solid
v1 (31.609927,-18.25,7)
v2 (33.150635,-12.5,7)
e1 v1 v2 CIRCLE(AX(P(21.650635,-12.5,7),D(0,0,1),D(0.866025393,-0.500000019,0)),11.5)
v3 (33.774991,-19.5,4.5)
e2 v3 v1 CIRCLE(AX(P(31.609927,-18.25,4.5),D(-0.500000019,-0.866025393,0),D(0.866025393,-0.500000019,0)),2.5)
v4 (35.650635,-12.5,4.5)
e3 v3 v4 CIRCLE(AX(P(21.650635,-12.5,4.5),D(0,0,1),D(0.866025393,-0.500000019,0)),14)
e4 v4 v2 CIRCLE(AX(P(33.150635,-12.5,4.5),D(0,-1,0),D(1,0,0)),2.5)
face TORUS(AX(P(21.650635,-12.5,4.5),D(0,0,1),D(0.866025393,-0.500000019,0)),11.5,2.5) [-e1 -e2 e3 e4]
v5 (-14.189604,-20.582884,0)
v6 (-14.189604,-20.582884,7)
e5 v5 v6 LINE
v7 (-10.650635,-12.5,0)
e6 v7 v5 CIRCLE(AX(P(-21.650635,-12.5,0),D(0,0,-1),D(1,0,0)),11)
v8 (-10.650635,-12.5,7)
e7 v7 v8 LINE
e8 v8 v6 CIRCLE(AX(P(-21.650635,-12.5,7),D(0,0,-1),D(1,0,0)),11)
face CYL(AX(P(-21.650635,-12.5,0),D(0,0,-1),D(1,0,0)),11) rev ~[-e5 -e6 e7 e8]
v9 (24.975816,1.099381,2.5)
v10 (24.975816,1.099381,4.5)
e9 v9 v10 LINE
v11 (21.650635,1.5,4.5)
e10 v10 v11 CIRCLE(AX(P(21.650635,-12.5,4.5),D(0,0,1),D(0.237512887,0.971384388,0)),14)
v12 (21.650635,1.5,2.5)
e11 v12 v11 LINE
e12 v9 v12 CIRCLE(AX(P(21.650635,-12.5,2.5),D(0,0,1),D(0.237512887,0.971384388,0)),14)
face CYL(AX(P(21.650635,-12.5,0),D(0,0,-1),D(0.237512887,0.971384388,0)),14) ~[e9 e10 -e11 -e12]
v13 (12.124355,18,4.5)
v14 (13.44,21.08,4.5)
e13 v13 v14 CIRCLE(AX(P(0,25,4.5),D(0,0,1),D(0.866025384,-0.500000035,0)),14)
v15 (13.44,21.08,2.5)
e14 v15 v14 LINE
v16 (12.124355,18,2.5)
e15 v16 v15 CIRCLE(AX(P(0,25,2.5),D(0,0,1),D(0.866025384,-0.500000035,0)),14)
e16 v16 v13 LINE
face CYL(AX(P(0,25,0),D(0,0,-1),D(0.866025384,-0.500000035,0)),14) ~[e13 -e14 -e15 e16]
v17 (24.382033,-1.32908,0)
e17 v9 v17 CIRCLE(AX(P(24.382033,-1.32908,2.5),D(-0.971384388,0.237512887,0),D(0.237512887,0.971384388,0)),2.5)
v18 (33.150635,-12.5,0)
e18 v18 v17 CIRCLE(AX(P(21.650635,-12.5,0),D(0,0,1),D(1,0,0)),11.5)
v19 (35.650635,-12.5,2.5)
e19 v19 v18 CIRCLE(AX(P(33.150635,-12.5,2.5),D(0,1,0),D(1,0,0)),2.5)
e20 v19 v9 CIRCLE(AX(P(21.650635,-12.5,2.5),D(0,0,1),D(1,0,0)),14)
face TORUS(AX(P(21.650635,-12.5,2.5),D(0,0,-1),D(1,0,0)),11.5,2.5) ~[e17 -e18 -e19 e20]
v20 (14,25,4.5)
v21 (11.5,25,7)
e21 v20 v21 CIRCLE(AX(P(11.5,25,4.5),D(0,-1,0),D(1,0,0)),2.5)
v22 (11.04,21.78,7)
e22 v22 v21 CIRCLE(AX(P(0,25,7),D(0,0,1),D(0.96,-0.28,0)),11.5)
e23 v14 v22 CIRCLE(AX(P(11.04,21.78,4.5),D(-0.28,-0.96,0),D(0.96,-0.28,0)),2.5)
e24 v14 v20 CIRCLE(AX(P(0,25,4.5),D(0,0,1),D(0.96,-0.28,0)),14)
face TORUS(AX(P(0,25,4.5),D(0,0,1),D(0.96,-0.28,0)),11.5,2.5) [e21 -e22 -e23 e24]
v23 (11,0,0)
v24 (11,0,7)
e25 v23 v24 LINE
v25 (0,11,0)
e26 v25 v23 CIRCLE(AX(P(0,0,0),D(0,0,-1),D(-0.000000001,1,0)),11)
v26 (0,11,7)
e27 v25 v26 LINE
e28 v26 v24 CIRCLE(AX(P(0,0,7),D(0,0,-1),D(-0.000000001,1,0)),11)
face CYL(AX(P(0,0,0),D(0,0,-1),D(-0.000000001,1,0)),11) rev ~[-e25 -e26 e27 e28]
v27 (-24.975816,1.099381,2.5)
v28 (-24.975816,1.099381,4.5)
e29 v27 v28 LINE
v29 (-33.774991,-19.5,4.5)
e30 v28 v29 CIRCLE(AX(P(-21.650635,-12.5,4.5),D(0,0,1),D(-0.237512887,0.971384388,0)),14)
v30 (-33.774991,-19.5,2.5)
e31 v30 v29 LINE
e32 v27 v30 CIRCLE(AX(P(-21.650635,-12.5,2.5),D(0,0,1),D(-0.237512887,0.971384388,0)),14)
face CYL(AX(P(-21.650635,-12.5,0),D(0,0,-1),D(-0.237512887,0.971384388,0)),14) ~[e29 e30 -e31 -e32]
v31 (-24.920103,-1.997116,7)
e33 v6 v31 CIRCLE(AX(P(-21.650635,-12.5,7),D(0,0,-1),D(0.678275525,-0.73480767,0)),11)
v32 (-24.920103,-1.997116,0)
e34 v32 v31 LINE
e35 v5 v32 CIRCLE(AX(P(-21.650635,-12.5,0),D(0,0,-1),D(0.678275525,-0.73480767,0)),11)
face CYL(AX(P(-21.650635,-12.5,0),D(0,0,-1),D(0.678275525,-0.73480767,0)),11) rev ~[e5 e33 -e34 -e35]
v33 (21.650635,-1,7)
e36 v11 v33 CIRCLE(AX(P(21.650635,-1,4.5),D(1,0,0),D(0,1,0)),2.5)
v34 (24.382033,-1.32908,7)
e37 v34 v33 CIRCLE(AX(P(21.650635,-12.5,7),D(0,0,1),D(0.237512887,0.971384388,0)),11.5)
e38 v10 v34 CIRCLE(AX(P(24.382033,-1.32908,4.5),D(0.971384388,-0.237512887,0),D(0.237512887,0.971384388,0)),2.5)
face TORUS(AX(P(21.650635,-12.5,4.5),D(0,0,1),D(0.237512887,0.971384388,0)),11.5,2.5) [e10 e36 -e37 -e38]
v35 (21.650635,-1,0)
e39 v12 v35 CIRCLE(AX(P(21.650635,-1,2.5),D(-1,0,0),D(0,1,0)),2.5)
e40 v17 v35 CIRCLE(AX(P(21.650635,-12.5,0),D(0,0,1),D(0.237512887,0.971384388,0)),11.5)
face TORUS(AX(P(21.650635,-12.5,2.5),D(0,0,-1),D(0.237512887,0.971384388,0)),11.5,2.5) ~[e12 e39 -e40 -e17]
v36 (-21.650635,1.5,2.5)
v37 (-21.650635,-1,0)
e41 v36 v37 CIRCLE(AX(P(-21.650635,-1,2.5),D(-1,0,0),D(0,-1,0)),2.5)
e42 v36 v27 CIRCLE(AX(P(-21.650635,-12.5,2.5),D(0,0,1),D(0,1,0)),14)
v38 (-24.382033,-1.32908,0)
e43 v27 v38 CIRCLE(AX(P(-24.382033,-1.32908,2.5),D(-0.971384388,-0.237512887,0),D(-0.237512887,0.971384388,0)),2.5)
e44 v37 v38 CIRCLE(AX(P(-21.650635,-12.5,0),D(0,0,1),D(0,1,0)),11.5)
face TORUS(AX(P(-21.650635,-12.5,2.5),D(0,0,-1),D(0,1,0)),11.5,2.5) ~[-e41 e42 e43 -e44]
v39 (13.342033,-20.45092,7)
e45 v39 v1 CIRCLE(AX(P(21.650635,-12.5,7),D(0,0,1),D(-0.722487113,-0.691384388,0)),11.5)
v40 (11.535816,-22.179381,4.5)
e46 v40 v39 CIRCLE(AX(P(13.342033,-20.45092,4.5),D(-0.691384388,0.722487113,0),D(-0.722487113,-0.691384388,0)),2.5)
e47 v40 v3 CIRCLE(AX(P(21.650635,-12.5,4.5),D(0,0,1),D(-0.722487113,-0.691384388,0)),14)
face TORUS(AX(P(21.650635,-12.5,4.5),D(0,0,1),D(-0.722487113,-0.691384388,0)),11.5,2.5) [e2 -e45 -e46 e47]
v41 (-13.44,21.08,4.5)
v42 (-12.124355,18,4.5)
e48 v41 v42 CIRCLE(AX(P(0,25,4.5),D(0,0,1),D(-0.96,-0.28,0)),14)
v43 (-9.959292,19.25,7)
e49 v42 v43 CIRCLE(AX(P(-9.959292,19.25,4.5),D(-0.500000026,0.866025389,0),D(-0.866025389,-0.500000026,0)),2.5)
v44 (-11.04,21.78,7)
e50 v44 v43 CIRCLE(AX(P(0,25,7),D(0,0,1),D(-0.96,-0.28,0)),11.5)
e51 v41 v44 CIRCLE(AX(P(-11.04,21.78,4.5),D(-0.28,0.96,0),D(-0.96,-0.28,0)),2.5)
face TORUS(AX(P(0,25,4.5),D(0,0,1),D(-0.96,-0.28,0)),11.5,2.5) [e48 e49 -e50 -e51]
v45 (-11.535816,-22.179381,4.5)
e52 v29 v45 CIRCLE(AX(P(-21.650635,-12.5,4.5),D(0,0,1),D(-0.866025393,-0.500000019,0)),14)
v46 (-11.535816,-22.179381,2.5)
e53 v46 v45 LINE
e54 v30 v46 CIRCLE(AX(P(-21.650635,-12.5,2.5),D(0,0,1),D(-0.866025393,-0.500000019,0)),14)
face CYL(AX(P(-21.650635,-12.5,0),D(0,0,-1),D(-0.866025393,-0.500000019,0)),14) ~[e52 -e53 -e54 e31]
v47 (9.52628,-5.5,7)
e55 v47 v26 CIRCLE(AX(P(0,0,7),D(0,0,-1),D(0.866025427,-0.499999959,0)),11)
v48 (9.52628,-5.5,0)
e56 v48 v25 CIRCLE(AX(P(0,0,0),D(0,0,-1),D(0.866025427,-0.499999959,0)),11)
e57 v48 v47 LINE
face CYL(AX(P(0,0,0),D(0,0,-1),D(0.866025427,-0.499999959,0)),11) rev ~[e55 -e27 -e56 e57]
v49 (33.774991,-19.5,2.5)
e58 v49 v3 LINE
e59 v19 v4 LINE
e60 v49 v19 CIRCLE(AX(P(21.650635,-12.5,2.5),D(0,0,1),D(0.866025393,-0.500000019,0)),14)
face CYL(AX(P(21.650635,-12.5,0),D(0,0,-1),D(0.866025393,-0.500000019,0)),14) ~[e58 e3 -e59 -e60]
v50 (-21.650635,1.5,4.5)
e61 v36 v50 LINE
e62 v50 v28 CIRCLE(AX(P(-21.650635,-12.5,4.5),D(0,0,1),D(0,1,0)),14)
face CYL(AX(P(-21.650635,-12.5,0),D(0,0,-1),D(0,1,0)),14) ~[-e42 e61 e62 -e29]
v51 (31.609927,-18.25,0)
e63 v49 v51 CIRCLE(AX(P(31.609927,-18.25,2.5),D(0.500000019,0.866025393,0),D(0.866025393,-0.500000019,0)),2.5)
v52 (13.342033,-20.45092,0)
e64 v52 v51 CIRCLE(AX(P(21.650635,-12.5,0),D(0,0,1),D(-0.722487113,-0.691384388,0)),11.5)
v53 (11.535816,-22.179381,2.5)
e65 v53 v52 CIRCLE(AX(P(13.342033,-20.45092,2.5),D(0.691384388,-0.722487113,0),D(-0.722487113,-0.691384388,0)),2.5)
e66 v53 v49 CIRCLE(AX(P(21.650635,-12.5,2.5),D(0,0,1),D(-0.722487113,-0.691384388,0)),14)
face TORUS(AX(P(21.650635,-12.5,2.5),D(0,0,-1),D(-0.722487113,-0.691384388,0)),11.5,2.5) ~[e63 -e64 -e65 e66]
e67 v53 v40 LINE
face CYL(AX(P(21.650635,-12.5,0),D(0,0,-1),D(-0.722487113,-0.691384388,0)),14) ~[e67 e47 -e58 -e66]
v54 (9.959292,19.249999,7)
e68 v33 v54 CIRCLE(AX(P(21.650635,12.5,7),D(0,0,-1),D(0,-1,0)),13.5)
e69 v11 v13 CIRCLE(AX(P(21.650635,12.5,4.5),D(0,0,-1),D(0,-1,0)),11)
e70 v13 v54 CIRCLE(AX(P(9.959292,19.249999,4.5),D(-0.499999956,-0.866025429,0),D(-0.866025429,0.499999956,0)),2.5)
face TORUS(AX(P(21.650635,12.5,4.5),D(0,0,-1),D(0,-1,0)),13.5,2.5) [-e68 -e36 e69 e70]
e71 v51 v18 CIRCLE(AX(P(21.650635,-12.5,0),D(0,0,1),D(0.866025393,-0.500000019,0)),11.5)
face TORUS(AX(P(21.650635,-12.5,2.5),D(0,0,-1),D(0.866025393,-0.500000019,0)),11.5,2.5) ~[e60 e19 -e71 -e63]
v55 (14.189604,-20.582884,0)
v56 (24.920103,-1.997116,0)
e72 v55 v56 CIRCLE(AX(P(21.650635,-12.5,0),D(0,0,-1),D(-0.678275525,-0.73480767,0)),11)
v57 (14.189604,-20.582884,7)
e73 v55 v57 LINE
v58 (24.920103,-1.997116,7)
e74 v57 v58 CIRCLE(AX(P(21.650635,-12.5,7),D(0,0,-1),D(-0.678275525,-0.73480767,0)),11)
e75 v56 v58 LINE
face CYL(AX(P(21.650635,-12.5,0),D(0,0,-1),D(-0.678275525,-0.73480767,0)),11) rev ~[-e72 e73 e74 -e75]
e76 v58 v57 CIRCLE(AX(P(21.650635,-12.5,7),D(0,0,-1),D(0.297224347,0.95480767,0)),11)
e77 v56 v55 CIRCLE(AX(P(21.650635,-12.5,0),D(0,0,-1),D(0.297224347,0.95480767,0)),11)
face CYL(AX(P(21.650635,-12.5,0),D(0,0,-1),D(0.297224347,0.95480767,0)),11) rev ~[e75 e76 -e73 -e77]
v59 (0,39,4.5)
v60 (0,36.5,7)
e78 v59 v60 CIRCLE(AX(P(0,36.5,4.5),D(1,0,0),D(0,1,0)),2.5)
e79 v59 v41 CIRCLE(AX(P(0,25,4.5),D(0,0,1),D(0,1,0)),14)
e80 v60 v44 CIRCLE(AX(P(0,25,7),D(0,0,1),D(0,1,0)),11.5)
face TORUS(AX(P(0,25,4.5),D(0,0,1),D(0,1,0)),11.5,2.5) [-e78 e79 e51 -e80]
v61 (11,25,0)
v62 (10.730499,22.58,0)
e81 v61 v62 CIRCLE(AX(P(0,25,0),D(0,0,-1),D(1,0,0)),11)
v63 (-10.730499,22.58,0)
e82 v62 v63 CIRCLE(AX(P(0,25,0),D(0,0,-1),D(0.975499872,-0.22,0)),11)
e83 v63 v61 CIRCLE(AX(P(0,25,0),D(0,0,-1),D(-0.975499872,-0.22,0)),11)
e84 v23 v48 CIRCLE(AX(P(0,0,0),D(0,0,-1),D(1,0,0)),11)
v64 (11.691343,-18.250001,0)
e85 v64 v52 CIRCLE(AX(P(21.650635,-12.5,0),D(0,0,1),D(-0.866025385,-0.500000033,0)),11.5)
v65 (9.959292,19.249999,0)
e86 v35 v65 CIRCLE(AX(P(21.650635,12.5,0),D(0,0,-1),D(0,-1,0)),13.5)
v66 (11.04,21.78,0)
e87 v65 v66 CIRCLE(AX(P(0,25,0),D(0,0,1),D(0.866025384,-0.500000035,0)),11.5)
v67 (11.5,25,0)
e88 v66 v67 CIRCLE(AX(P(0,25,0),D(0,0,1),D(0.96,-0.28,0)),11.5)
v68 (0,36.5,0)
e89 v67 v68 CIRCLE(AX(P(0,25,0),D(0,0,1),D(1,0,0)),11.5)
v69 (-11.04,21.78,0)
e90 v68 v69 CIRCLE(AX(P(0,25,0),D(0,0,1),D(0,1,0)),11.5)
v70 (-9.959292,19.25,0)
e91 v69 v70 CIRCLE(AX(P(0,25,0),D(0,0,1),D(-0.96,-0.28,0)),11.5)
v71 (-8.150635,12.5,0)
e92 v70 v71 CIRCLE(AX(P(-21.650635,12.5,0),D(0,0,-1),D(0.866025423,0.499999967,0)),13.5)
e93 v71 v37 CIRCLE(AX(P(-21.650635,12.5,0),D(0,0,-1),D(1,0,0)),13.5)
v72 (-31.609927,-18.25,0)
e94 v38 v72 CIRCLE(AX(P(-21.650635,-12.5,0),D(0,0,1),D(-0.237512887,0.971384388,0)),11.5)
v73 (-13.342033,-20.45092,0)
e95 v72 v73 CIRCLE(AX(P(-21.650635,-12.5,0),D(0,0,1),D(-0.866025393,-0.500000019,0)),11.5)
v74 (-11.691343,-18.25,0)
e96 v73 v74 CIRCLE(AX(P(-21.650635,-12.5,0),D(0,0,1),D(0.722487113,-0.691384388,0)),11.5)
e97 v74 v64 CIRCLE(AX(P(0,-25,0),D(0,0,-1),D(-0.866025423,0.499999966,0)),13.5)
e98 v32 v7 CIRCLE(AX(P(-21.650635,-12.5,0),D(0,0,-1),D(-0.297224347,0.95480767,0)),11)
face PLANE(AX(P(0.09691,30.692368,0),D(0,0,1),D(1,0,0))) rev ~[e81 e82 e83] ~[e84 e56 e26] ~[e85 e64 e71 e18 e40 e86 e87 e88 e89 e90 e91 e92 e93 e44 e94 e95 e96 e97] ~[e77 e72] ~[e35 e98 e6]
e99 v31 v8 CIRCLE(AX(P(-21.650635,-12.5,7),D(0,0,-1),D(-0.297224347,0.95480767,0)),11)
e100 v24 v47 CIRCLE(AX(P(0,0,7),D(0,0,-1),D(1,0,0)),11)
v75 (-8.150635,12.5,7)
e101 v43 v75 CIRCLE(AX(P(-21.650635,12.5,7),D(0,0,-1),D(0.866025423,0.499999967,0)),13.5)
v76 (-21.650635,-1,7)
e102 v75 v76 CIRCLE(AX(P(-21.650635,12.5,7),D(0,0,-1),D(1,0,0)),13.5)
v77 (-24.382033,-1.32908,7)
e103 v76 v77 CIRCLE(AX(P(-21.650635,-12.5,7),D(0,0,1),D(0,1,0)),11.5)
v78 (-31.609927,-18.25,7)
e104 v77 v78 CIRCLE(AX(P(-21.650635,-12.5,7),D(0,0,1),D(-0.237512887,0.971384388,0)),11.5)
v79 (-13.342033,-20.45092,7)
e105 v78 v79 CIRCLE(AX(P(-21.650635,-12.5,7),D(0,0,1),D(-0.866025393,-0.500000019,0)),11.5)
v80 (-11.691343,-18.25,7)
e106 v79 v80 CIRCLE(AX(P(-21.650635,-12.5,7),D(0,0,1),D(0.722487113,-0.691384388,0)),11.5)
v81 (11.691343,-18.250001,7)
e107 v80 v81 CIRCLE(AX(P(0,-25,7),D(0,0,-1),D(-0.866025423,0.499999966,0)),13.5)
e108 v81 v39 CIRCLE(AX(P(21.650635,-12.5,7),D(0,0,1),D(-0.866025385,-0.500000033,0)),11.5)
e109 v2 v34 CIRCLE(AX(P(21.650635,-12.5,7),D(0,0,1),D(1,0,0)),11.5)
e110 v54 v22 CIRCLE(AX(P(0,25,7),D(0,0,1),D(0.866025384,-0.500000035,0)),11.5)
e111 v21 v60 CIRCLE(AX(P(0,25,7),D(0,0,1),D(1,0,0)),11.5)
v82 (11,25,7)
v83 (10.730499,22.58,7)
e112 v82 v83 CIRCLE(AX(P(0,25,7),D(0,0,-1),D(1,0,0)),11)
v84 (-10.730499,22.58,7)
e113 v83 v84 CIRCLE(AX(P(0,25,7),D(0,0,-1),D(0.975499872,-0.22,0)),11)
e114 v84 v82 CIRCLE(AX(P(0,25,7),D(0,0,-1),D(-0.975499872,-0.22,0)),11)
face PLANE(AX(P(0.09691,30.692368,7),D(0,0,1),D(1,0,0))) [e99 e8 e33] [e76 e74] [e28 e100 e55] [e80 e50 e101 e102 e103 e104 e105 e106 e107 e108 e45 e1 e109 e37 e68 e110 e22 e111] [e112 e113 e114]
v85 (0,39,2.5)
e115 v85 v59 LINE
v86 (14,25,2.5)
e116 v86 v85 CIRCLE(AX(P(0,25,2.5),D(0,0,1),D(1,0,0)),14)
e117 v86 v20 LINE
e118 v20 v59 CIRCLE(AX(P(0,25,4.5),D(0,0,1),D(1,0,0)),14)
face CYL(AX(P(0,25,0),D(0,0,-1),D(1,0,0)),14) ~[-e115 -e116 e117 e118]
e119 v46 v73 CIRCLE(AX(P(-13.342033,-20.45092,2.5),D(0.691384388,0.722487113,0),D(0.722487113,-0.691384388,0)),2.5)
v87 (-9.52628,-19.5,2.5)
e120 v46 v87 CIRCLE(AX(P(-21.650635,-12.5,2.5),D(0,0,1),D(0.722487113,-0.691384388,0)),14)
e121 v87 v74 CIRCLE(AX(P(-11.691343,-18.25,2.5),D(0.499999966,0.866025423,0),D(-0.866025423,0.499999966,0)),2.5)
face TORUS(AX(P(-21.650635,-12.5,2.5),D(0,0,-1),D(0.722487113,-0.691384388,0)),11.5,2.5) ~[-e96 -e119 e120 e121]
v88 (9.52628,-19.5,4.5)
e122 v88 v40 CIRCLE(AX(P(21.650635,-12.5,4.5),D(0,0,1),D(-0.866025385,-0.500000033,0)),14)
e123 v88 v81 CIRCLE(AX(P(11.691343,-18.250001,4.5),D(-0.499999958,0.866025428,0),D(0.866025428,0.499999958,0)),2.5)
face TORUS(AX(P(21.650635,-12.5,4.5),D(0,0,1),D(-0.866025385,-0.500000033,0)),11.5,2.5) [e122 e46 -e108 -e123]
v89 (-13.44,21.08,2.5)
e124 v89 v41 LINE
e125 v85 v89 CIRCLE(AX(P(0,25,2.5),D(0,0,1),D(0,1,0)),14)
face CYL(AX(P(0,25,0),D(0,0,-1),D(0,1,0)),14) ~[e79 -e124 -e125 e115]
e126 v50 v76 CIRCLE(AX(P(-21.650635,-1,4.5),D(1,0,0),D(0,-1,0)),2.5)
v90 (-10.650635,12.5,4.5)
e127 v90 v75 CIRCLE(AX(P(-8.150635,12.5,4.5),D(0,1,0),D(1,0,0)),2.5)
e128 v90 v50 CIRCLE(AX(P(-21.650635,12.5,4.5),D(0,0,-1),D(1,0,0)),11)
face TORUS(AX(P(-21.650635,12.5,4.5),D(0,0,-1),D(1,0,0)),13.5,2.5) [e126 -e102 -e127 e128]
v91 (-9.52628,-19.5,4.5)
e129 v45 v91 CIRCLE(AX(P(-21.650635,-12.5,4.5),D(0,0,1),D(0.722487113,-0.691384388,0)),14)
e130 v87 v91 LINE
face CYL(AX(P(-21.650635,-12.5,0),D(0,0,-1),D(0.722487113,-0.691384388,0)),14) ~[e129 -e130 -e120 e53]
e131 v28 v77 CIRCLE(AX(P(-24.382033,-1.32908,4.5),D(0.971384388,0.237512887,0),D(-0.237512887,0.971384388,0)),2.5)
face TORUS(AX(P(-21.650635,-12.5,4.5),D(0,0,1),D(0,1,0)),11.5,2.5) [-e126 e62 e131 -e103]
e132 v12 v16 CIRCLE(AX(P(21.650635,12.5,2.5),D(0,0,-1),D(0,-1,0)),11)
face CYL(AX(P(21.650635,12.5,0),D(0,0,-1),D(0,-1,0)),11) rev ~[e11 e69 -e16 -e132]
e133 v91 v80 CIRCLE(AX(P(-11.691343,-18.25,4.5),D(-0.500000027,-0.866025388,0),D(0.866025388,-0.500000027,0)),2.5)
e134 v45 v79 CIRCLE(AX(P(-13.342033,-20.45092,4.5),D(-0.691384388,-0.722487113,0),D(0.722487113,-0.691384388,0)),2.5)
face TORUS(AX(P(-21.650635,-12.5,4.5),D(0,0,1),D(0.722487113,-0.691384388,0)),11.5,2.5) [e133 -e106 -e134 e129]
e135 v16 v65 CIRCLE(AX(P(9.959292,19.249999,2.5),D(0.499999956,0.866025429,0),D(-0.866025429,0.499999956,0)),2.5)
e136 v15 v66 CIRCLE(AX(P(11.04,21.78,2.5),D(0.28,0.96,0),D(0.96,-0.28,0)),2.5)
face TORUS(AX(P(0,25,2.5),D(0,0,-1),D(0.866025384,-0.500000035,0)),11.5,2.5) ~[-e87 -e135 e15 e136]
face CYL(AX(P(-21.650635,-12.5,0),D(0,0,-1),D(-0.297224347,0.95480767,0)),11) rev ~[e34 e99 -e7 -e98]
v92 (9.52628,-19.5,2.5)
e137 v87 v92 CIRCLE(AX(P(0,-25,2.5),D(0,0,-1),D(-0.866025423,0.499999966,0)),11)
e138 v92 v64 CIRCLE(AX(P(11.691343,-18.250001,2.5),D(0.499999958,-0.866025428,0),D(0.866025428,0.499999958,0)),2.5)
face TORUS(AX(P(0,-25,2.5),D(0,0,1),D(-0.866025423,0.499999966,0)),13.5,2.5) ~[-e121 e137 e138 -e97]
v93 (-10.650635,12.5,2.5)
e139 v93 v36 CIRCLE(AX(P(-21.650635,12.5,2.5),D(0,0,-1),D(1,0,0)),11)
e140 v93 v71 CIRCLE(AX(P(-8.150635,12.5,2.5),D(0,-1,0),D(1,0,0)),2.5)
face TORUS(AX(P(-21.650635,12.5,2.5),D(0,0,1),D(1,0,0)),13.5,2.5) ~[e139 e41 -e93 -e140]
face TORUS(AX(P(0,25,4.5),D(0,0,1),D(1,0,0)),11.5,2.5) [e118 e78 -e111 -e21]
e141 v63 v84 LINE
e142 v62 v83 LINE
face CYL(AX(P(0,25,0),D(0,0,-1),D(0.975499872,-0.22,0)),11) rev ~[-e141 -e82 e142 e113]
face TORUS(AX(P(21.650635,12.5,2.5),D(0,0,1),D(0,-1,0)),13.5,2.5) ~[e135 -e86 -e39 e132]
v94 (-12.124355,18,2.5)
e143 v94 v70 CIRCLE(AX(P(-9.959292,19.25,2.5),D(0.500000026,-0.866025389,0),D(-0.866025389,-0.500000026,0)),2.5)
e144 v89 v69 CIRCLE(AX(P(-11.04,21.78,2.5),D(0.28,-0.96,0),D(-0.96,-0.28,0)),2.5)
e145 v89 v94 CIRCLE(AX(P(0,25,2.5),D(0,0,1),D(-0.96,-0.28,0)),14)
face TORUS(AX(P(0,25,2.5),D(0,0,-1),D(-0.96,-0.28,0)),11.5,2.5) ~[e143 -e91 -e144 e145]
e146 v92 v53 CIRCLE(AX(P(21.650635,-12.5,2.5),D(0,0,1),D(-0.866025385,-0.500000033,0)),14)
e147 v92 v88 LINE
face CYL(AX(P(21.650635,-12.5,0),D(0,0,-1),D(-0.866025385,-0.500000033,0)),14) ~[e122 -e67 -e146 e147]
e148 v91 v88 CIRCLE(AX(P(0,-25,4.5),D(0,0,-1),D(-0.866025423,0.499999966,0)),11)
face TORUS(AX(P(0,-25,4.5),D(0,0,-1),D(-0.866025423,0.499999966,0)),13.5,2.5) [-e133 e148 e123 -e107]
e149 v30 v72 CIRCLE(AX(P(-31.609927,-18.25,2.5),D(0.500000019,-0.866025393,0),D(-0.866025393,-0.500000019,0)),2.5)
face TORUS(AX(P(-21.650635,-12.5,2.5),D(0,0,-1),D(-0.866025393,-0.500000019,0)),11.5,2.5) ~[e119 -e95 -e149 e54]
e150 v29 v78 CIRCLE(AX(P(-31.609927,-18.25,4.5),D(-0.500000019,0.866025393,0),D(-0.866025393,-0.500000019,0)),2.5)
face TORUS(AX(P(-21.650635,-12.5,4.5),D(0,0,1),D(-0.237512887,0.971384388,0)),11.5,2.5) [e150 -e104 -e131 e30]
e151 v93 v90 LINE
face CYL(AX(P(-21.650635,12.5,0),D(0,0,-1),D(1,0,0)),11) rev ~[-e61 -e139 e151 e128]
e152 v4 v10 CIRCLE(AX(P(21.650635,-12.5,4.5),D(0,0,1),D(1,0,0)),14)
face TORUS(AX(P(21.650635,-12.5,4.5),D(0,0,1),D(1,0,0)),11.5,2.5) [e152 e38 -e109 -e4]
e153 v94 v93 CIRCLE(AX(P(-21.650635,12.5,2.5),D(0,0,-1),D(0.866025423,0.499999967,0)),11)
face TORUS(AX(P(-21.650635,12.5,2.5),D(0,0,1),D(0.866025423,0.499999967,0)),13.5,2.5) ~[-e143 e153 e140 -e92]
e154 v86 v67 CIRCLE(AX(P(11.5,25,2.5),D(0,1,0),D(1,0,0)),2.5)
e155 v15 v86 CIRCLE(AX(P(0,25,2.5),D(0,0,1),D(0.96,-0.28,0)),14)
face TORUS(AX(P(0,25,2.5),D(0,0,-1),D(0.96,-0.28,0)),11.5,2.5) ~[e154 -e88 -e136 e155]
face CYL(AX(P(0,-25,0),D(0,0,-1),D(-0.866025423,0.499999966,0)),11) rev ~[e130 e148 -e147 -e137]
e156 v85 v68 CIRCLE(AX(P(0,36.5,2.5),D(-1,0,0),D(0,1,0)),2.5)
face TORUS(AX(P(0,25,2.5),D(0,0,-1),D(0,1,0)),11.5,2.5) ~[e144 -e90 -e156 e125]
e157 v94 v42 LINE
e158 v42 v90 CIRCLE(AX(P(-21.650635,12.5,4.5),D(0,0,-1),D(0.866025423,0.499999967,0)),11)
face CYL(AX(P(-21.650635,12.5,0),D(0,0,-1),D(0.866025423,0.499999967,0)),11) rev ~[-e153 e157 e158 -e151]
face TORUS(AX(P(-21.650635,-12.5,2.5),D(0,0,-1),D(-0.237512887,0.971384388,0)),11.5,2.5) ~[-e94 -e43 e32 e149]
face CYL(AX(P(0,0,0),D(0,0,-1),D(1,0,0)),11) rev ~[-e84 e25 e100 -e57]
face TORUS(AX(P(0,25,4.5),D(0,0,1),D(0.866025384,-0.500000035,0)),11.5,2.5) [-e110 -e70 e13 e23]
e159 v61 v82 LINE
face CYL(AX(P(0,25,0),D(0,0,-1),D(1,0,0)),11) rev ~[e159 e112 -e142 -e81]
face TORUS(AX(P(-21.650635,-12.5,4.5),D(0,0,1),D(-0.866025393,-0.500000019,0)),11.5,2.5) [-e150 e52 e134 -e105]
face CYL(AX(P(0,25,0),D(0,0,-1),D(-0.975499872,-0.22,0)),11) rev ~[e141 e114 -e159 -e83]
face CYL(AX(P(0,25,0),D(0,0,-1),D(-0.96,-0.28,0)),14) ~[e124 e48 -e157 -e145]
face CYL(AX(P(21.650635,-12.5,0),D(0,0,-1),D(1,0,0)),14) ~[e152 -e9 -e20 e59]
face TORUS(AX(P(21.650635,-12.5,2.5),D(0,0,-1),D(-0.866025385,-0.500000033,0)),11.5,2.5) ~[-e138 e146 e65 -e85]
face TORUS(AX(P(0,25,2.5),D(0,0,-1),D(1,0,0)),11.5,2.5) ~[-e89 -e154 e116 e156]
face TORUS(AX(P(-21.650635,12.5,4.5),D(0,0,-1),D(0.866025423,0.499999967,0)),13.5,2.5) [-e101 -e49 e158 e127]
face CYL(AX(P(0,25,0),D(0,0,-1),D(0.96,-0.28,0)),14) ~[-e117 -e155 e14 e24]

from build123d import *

# Parameters (mm, degrees)
F1_DEPTH = 7
F2_R     = 2.5


with BuildPart() as f1:
    # F0 (on Top) → F1 (new body)
    with BuildSketch(Plane.XY):
        with BuildLine():
            ThreePointArc((0, 39), (-11.2, 33.4), (-13.44, 21.08))
            ThreePointArc((-13.44, 21.08), (-12.108499103, 21.8719969247), (-10.7304985905, 22.58))
            ThreePointArc((-10.7304985905, 22.58), (-1.217480083, 35.9324170359), (11, 25))
            ThreePointArc((11, 25), (10.9324170359, 23.782519917), (10.7304985905, 22.58))
            ThreePointArc((10.7304985905, 22.58), (12.108499103, 21.8719969247), (13.44, 21.08))
            ThreePointArc((13.44, 21.08), (13.8592929113, 23.0201010127), (14, 25))
            ThreePointArc((14, 25), (9.8994949366, 34.8994949366), (0, 39))
        make_face()
        with BuildLine():
            ThreePointArc((-24.9201029127, -1.9971156254), (-24.9959545198, -0.4497306374), (-24.9758155118, 1.0993814269))
            ThreePointArc((-24.9758155118, 1.0993814269), (-34.5252485482, -7.0005156222), (-33.7749905903, -19.5000002724))
            ThreePointArc((-33.7749905903, -19.5000002724), (-23.3252483303, -26.3994845412), (-11.5358155118, -22.1793814269))
            ThreePointArc((-11.5358155118, -22.1793814269), (-12.8874554167, -21.4222662872), (-14.1896043222, -20.5828843746))
            ThreePointArc((-14.1896043222, -20.5828843746), (-31.1769145362, -18), (-24.9201029127, -1.9971156254))
        make_face()
        with BuildLine():
            ThreePointArc((35.6506350946, -12.5), (32.6631853406, -3.8557107244), (24.9758155118, 1.0993814269))
            ThreePointArc((24.9758155118, 1.0993814269), (24.9939531467, 0.5498237016), (25, 0))
            ThreePointArc((25, 0), (24.9800177424, -0.9993565887), (24.9201029127, -1.9971156254))
            ThreePointArc((24.9201029127, -1.9971156254), (30.509645931, -5.9794228016), (32.6506350946, -12.5))
            ThreePointArc((32.6506350946, -12.5), (26.0624749321, -22.5764909194), (14.1896043222, -20.5828843746))
            ThreePointArc((14.1896043222, -20.5828843746), (12.8874554167, -21.4222662872), (11.5358155118, -22.1793814269))
            ThreePointArc((11.5358155118, -22.1793814269), (23.3252483303, -26.3994845412), (33.7749905903, -19.5000002724))
            ThreePointArc((33.7749905903, -19.5000002724), (35.173596622, -16.1234667833), (35.6506350946, -12.5))
        make_face()
        with BuildLine():
            ThreePointArc((-7.6506350946, -12.5), (-8.1276735787, -8.876533174), (-9.5262796431, -5.499999651))
            ThreePointArc((-9.5262796431, -5.499999651), (-14.6506352691, -0.3756442463), (-21.6506350946, 1.5))
            ThreePointArc((-21.6506350946, 1.5), (-23.3252484864, 1.3994845224), (-24.9758155118, 1.0993814269))
            ThreePointArc((-24.9758155118, 1.0993814269), (-24.9959545198, -0.4497306374), (-24.9201029127, -1.9971156254))
            ThreePointArc((-24.9201029127, -1.9971156254), (-15.1300578962, -3.6409891636), (-10.6506350946, -12.5))
            ThreePointArc((-10.6506350946, -12.5), (-11.5741441752, -16.9118398375), (-14.1896043222, -20.5828843746))
            ThreePointArc((-14.1896043222, -20.5828843746), (-12.8874554167, -21.4222662872), (-11.5358155118, -22.1793814269))
            ThreePointArc((-11.5358155118, -22.1793814269), (-10.4506352242, -20.9000001727), (-9.5262796575, -19.500000374))
            ThreePointArc((-9.5262796575, -19.500000374), (-8.1276735824, -16.12346684), (-7.6506350946, -12.5))
        make_face()
        with BuildLine():
            ThreePointArc((21.6506350946, 1.5), (14.6506353187, -0.3756442176), (9.5262797004, -5.4999995518))
            ThreePointArc((9.5262797004, -5.4999995518), (7.6506350946, -12.5000000071), (9.5262797075, -19.5000004605))
            ThreePointArc((9.5262797075, -19.5000004605), (10.4506352541, -20.9000002127), (11.5358155118, -22.1793814269))
            ThreePointArc((11.5358155118, -22.1793814269), (12.8874554167, -21.4222662872), (14.1896043222, -20.5828843746))
            ThreePointArc((14.1896043222, -20.5828843746), (12.124355653, -7), (24.9201029127, -1.9971156254))
            ThreePointArc((24.9201029127, -1.9971156254), (24.9800177424, -0.9993565887), (25, 0))
            ThreePointArc((25, 0), (24.9939531467, 0.5498237016), (24.9758155118, 1.0993814269))
            ThreePointArc((24.9758155118, 1.0993814269), (23.3252484864, 1.3994845224), (21.6506350946, 1.5))
        make_face()
        with BuildLine():
            ThreePointArc((-12.1243554417, 17.999999634), (-6.9999998228, 12.8756442447), (-1.34e-08, 11))
            ThreePointArc((-1.34e-08, 11), (6.9999997518, 12.8756442037), (12.1243553731, 17.9999995151))
            ThreePointArc((12.1243553731, 17.9999995151), (12.8746132818, 19.5005152202), (13.44, 21.08))
            ThreePointArc((13.44, 21.08), (12.108499103, 21.8719969247), (10.7304985905, 22.58))
            ThreePointArc((10.7304985905, 22.58), (0, 14), (-10.7304985905, 22.58))
            ThreePointArc((-10.7304985905, 22.58), (-12.108499103, 21.8719969247), (-13.44, 21.08))
            ThreePointArc((-13.44, 21.08), (-12.8746133088, 19.5005152833), (-12.1243554417, 17.999999634))
        make_face()
        with BuildLine():
            ThreePointArc((-1.34e-08, 11), (7.7781745883, 7.7781745978), (11, 0))
            ThreePointArc((11, 0), (10.6251841562, -2.8470092462), (9.5262797004, -5.4999995518))
            ThreePointArc((9.5262797004, -5.4999995518), (14.6506353187, -0.3756442176), (21.6506350946, 1.5))
            ThreePointArc((21.6506350946, 1.5), (12.1243557929, 6.9999997576), (12.1243553731, 17.9999995151))
            ThreePointArc((12.1243553731, 17.9999995151), (6.9999997518, 12.8756442037), (-1.34e-08, 11))
        make_face()
        with BuildLine():
            ThreePointArc((-9.5262796431, -5.499999651), (-9.5262793442, 5.5000001687), (-1.34e-08, 11))
            ThreePointArc((-1.34e-08, 11), (-6.9999998228, 12.8756442447), (-12.1243554417, 17.999999634))
            ThreePointArc((-12.1243554417, 17.999999634), (-11.0254509507, 15.347009292), (-10.6506350946, 12.5))
            ThreePointArc((-10.6506350946, 12.5), (-13.8724605016, 4.7218254069), (-21.6506350946, 1.5))
            ThreePointArc((-21.6506350946, 1.5), (-14.6506352691, -0.3756442463), (-9.5262796431, -5.499999651))
        make_face()
        with BuildLine():
            ThreePointArc((9.5262797075, -19.5000004605), (7.6506350946, -12.5000000071), (9.5262797004, -5.4999995518))
            ThreePointArc((9.5262797004, -5.4999995518), (5.73e-08, -11), (-9.5262796431, -5.499999651))
            ThreePointArc((-9.5262796431, -5.499999651), (-8.1276735787, -8.876533174), (-7.6506350946, -12.5))
            ThreePointArc((-7.6506350946, -12.5), (-8.1276735824, -16.12346684), (-9.5262796575, -19.500000374))
            ThreePointArc((-9.5262796575, -19.500000374), (4.99e-08, -14), (9.5262797075, -19.5000004605))
        make_face()
    extrude(amount=F1_DEPTH)

    # F2
    f2_edges = [f1.edges().sort_by_distance(p)[0] for p in [
        (-33.774991, -19.5, 7),
        (0, -14, 0),
    ]]
    fillet(f2_edges, radius=F2_R)


solid = f1.part
